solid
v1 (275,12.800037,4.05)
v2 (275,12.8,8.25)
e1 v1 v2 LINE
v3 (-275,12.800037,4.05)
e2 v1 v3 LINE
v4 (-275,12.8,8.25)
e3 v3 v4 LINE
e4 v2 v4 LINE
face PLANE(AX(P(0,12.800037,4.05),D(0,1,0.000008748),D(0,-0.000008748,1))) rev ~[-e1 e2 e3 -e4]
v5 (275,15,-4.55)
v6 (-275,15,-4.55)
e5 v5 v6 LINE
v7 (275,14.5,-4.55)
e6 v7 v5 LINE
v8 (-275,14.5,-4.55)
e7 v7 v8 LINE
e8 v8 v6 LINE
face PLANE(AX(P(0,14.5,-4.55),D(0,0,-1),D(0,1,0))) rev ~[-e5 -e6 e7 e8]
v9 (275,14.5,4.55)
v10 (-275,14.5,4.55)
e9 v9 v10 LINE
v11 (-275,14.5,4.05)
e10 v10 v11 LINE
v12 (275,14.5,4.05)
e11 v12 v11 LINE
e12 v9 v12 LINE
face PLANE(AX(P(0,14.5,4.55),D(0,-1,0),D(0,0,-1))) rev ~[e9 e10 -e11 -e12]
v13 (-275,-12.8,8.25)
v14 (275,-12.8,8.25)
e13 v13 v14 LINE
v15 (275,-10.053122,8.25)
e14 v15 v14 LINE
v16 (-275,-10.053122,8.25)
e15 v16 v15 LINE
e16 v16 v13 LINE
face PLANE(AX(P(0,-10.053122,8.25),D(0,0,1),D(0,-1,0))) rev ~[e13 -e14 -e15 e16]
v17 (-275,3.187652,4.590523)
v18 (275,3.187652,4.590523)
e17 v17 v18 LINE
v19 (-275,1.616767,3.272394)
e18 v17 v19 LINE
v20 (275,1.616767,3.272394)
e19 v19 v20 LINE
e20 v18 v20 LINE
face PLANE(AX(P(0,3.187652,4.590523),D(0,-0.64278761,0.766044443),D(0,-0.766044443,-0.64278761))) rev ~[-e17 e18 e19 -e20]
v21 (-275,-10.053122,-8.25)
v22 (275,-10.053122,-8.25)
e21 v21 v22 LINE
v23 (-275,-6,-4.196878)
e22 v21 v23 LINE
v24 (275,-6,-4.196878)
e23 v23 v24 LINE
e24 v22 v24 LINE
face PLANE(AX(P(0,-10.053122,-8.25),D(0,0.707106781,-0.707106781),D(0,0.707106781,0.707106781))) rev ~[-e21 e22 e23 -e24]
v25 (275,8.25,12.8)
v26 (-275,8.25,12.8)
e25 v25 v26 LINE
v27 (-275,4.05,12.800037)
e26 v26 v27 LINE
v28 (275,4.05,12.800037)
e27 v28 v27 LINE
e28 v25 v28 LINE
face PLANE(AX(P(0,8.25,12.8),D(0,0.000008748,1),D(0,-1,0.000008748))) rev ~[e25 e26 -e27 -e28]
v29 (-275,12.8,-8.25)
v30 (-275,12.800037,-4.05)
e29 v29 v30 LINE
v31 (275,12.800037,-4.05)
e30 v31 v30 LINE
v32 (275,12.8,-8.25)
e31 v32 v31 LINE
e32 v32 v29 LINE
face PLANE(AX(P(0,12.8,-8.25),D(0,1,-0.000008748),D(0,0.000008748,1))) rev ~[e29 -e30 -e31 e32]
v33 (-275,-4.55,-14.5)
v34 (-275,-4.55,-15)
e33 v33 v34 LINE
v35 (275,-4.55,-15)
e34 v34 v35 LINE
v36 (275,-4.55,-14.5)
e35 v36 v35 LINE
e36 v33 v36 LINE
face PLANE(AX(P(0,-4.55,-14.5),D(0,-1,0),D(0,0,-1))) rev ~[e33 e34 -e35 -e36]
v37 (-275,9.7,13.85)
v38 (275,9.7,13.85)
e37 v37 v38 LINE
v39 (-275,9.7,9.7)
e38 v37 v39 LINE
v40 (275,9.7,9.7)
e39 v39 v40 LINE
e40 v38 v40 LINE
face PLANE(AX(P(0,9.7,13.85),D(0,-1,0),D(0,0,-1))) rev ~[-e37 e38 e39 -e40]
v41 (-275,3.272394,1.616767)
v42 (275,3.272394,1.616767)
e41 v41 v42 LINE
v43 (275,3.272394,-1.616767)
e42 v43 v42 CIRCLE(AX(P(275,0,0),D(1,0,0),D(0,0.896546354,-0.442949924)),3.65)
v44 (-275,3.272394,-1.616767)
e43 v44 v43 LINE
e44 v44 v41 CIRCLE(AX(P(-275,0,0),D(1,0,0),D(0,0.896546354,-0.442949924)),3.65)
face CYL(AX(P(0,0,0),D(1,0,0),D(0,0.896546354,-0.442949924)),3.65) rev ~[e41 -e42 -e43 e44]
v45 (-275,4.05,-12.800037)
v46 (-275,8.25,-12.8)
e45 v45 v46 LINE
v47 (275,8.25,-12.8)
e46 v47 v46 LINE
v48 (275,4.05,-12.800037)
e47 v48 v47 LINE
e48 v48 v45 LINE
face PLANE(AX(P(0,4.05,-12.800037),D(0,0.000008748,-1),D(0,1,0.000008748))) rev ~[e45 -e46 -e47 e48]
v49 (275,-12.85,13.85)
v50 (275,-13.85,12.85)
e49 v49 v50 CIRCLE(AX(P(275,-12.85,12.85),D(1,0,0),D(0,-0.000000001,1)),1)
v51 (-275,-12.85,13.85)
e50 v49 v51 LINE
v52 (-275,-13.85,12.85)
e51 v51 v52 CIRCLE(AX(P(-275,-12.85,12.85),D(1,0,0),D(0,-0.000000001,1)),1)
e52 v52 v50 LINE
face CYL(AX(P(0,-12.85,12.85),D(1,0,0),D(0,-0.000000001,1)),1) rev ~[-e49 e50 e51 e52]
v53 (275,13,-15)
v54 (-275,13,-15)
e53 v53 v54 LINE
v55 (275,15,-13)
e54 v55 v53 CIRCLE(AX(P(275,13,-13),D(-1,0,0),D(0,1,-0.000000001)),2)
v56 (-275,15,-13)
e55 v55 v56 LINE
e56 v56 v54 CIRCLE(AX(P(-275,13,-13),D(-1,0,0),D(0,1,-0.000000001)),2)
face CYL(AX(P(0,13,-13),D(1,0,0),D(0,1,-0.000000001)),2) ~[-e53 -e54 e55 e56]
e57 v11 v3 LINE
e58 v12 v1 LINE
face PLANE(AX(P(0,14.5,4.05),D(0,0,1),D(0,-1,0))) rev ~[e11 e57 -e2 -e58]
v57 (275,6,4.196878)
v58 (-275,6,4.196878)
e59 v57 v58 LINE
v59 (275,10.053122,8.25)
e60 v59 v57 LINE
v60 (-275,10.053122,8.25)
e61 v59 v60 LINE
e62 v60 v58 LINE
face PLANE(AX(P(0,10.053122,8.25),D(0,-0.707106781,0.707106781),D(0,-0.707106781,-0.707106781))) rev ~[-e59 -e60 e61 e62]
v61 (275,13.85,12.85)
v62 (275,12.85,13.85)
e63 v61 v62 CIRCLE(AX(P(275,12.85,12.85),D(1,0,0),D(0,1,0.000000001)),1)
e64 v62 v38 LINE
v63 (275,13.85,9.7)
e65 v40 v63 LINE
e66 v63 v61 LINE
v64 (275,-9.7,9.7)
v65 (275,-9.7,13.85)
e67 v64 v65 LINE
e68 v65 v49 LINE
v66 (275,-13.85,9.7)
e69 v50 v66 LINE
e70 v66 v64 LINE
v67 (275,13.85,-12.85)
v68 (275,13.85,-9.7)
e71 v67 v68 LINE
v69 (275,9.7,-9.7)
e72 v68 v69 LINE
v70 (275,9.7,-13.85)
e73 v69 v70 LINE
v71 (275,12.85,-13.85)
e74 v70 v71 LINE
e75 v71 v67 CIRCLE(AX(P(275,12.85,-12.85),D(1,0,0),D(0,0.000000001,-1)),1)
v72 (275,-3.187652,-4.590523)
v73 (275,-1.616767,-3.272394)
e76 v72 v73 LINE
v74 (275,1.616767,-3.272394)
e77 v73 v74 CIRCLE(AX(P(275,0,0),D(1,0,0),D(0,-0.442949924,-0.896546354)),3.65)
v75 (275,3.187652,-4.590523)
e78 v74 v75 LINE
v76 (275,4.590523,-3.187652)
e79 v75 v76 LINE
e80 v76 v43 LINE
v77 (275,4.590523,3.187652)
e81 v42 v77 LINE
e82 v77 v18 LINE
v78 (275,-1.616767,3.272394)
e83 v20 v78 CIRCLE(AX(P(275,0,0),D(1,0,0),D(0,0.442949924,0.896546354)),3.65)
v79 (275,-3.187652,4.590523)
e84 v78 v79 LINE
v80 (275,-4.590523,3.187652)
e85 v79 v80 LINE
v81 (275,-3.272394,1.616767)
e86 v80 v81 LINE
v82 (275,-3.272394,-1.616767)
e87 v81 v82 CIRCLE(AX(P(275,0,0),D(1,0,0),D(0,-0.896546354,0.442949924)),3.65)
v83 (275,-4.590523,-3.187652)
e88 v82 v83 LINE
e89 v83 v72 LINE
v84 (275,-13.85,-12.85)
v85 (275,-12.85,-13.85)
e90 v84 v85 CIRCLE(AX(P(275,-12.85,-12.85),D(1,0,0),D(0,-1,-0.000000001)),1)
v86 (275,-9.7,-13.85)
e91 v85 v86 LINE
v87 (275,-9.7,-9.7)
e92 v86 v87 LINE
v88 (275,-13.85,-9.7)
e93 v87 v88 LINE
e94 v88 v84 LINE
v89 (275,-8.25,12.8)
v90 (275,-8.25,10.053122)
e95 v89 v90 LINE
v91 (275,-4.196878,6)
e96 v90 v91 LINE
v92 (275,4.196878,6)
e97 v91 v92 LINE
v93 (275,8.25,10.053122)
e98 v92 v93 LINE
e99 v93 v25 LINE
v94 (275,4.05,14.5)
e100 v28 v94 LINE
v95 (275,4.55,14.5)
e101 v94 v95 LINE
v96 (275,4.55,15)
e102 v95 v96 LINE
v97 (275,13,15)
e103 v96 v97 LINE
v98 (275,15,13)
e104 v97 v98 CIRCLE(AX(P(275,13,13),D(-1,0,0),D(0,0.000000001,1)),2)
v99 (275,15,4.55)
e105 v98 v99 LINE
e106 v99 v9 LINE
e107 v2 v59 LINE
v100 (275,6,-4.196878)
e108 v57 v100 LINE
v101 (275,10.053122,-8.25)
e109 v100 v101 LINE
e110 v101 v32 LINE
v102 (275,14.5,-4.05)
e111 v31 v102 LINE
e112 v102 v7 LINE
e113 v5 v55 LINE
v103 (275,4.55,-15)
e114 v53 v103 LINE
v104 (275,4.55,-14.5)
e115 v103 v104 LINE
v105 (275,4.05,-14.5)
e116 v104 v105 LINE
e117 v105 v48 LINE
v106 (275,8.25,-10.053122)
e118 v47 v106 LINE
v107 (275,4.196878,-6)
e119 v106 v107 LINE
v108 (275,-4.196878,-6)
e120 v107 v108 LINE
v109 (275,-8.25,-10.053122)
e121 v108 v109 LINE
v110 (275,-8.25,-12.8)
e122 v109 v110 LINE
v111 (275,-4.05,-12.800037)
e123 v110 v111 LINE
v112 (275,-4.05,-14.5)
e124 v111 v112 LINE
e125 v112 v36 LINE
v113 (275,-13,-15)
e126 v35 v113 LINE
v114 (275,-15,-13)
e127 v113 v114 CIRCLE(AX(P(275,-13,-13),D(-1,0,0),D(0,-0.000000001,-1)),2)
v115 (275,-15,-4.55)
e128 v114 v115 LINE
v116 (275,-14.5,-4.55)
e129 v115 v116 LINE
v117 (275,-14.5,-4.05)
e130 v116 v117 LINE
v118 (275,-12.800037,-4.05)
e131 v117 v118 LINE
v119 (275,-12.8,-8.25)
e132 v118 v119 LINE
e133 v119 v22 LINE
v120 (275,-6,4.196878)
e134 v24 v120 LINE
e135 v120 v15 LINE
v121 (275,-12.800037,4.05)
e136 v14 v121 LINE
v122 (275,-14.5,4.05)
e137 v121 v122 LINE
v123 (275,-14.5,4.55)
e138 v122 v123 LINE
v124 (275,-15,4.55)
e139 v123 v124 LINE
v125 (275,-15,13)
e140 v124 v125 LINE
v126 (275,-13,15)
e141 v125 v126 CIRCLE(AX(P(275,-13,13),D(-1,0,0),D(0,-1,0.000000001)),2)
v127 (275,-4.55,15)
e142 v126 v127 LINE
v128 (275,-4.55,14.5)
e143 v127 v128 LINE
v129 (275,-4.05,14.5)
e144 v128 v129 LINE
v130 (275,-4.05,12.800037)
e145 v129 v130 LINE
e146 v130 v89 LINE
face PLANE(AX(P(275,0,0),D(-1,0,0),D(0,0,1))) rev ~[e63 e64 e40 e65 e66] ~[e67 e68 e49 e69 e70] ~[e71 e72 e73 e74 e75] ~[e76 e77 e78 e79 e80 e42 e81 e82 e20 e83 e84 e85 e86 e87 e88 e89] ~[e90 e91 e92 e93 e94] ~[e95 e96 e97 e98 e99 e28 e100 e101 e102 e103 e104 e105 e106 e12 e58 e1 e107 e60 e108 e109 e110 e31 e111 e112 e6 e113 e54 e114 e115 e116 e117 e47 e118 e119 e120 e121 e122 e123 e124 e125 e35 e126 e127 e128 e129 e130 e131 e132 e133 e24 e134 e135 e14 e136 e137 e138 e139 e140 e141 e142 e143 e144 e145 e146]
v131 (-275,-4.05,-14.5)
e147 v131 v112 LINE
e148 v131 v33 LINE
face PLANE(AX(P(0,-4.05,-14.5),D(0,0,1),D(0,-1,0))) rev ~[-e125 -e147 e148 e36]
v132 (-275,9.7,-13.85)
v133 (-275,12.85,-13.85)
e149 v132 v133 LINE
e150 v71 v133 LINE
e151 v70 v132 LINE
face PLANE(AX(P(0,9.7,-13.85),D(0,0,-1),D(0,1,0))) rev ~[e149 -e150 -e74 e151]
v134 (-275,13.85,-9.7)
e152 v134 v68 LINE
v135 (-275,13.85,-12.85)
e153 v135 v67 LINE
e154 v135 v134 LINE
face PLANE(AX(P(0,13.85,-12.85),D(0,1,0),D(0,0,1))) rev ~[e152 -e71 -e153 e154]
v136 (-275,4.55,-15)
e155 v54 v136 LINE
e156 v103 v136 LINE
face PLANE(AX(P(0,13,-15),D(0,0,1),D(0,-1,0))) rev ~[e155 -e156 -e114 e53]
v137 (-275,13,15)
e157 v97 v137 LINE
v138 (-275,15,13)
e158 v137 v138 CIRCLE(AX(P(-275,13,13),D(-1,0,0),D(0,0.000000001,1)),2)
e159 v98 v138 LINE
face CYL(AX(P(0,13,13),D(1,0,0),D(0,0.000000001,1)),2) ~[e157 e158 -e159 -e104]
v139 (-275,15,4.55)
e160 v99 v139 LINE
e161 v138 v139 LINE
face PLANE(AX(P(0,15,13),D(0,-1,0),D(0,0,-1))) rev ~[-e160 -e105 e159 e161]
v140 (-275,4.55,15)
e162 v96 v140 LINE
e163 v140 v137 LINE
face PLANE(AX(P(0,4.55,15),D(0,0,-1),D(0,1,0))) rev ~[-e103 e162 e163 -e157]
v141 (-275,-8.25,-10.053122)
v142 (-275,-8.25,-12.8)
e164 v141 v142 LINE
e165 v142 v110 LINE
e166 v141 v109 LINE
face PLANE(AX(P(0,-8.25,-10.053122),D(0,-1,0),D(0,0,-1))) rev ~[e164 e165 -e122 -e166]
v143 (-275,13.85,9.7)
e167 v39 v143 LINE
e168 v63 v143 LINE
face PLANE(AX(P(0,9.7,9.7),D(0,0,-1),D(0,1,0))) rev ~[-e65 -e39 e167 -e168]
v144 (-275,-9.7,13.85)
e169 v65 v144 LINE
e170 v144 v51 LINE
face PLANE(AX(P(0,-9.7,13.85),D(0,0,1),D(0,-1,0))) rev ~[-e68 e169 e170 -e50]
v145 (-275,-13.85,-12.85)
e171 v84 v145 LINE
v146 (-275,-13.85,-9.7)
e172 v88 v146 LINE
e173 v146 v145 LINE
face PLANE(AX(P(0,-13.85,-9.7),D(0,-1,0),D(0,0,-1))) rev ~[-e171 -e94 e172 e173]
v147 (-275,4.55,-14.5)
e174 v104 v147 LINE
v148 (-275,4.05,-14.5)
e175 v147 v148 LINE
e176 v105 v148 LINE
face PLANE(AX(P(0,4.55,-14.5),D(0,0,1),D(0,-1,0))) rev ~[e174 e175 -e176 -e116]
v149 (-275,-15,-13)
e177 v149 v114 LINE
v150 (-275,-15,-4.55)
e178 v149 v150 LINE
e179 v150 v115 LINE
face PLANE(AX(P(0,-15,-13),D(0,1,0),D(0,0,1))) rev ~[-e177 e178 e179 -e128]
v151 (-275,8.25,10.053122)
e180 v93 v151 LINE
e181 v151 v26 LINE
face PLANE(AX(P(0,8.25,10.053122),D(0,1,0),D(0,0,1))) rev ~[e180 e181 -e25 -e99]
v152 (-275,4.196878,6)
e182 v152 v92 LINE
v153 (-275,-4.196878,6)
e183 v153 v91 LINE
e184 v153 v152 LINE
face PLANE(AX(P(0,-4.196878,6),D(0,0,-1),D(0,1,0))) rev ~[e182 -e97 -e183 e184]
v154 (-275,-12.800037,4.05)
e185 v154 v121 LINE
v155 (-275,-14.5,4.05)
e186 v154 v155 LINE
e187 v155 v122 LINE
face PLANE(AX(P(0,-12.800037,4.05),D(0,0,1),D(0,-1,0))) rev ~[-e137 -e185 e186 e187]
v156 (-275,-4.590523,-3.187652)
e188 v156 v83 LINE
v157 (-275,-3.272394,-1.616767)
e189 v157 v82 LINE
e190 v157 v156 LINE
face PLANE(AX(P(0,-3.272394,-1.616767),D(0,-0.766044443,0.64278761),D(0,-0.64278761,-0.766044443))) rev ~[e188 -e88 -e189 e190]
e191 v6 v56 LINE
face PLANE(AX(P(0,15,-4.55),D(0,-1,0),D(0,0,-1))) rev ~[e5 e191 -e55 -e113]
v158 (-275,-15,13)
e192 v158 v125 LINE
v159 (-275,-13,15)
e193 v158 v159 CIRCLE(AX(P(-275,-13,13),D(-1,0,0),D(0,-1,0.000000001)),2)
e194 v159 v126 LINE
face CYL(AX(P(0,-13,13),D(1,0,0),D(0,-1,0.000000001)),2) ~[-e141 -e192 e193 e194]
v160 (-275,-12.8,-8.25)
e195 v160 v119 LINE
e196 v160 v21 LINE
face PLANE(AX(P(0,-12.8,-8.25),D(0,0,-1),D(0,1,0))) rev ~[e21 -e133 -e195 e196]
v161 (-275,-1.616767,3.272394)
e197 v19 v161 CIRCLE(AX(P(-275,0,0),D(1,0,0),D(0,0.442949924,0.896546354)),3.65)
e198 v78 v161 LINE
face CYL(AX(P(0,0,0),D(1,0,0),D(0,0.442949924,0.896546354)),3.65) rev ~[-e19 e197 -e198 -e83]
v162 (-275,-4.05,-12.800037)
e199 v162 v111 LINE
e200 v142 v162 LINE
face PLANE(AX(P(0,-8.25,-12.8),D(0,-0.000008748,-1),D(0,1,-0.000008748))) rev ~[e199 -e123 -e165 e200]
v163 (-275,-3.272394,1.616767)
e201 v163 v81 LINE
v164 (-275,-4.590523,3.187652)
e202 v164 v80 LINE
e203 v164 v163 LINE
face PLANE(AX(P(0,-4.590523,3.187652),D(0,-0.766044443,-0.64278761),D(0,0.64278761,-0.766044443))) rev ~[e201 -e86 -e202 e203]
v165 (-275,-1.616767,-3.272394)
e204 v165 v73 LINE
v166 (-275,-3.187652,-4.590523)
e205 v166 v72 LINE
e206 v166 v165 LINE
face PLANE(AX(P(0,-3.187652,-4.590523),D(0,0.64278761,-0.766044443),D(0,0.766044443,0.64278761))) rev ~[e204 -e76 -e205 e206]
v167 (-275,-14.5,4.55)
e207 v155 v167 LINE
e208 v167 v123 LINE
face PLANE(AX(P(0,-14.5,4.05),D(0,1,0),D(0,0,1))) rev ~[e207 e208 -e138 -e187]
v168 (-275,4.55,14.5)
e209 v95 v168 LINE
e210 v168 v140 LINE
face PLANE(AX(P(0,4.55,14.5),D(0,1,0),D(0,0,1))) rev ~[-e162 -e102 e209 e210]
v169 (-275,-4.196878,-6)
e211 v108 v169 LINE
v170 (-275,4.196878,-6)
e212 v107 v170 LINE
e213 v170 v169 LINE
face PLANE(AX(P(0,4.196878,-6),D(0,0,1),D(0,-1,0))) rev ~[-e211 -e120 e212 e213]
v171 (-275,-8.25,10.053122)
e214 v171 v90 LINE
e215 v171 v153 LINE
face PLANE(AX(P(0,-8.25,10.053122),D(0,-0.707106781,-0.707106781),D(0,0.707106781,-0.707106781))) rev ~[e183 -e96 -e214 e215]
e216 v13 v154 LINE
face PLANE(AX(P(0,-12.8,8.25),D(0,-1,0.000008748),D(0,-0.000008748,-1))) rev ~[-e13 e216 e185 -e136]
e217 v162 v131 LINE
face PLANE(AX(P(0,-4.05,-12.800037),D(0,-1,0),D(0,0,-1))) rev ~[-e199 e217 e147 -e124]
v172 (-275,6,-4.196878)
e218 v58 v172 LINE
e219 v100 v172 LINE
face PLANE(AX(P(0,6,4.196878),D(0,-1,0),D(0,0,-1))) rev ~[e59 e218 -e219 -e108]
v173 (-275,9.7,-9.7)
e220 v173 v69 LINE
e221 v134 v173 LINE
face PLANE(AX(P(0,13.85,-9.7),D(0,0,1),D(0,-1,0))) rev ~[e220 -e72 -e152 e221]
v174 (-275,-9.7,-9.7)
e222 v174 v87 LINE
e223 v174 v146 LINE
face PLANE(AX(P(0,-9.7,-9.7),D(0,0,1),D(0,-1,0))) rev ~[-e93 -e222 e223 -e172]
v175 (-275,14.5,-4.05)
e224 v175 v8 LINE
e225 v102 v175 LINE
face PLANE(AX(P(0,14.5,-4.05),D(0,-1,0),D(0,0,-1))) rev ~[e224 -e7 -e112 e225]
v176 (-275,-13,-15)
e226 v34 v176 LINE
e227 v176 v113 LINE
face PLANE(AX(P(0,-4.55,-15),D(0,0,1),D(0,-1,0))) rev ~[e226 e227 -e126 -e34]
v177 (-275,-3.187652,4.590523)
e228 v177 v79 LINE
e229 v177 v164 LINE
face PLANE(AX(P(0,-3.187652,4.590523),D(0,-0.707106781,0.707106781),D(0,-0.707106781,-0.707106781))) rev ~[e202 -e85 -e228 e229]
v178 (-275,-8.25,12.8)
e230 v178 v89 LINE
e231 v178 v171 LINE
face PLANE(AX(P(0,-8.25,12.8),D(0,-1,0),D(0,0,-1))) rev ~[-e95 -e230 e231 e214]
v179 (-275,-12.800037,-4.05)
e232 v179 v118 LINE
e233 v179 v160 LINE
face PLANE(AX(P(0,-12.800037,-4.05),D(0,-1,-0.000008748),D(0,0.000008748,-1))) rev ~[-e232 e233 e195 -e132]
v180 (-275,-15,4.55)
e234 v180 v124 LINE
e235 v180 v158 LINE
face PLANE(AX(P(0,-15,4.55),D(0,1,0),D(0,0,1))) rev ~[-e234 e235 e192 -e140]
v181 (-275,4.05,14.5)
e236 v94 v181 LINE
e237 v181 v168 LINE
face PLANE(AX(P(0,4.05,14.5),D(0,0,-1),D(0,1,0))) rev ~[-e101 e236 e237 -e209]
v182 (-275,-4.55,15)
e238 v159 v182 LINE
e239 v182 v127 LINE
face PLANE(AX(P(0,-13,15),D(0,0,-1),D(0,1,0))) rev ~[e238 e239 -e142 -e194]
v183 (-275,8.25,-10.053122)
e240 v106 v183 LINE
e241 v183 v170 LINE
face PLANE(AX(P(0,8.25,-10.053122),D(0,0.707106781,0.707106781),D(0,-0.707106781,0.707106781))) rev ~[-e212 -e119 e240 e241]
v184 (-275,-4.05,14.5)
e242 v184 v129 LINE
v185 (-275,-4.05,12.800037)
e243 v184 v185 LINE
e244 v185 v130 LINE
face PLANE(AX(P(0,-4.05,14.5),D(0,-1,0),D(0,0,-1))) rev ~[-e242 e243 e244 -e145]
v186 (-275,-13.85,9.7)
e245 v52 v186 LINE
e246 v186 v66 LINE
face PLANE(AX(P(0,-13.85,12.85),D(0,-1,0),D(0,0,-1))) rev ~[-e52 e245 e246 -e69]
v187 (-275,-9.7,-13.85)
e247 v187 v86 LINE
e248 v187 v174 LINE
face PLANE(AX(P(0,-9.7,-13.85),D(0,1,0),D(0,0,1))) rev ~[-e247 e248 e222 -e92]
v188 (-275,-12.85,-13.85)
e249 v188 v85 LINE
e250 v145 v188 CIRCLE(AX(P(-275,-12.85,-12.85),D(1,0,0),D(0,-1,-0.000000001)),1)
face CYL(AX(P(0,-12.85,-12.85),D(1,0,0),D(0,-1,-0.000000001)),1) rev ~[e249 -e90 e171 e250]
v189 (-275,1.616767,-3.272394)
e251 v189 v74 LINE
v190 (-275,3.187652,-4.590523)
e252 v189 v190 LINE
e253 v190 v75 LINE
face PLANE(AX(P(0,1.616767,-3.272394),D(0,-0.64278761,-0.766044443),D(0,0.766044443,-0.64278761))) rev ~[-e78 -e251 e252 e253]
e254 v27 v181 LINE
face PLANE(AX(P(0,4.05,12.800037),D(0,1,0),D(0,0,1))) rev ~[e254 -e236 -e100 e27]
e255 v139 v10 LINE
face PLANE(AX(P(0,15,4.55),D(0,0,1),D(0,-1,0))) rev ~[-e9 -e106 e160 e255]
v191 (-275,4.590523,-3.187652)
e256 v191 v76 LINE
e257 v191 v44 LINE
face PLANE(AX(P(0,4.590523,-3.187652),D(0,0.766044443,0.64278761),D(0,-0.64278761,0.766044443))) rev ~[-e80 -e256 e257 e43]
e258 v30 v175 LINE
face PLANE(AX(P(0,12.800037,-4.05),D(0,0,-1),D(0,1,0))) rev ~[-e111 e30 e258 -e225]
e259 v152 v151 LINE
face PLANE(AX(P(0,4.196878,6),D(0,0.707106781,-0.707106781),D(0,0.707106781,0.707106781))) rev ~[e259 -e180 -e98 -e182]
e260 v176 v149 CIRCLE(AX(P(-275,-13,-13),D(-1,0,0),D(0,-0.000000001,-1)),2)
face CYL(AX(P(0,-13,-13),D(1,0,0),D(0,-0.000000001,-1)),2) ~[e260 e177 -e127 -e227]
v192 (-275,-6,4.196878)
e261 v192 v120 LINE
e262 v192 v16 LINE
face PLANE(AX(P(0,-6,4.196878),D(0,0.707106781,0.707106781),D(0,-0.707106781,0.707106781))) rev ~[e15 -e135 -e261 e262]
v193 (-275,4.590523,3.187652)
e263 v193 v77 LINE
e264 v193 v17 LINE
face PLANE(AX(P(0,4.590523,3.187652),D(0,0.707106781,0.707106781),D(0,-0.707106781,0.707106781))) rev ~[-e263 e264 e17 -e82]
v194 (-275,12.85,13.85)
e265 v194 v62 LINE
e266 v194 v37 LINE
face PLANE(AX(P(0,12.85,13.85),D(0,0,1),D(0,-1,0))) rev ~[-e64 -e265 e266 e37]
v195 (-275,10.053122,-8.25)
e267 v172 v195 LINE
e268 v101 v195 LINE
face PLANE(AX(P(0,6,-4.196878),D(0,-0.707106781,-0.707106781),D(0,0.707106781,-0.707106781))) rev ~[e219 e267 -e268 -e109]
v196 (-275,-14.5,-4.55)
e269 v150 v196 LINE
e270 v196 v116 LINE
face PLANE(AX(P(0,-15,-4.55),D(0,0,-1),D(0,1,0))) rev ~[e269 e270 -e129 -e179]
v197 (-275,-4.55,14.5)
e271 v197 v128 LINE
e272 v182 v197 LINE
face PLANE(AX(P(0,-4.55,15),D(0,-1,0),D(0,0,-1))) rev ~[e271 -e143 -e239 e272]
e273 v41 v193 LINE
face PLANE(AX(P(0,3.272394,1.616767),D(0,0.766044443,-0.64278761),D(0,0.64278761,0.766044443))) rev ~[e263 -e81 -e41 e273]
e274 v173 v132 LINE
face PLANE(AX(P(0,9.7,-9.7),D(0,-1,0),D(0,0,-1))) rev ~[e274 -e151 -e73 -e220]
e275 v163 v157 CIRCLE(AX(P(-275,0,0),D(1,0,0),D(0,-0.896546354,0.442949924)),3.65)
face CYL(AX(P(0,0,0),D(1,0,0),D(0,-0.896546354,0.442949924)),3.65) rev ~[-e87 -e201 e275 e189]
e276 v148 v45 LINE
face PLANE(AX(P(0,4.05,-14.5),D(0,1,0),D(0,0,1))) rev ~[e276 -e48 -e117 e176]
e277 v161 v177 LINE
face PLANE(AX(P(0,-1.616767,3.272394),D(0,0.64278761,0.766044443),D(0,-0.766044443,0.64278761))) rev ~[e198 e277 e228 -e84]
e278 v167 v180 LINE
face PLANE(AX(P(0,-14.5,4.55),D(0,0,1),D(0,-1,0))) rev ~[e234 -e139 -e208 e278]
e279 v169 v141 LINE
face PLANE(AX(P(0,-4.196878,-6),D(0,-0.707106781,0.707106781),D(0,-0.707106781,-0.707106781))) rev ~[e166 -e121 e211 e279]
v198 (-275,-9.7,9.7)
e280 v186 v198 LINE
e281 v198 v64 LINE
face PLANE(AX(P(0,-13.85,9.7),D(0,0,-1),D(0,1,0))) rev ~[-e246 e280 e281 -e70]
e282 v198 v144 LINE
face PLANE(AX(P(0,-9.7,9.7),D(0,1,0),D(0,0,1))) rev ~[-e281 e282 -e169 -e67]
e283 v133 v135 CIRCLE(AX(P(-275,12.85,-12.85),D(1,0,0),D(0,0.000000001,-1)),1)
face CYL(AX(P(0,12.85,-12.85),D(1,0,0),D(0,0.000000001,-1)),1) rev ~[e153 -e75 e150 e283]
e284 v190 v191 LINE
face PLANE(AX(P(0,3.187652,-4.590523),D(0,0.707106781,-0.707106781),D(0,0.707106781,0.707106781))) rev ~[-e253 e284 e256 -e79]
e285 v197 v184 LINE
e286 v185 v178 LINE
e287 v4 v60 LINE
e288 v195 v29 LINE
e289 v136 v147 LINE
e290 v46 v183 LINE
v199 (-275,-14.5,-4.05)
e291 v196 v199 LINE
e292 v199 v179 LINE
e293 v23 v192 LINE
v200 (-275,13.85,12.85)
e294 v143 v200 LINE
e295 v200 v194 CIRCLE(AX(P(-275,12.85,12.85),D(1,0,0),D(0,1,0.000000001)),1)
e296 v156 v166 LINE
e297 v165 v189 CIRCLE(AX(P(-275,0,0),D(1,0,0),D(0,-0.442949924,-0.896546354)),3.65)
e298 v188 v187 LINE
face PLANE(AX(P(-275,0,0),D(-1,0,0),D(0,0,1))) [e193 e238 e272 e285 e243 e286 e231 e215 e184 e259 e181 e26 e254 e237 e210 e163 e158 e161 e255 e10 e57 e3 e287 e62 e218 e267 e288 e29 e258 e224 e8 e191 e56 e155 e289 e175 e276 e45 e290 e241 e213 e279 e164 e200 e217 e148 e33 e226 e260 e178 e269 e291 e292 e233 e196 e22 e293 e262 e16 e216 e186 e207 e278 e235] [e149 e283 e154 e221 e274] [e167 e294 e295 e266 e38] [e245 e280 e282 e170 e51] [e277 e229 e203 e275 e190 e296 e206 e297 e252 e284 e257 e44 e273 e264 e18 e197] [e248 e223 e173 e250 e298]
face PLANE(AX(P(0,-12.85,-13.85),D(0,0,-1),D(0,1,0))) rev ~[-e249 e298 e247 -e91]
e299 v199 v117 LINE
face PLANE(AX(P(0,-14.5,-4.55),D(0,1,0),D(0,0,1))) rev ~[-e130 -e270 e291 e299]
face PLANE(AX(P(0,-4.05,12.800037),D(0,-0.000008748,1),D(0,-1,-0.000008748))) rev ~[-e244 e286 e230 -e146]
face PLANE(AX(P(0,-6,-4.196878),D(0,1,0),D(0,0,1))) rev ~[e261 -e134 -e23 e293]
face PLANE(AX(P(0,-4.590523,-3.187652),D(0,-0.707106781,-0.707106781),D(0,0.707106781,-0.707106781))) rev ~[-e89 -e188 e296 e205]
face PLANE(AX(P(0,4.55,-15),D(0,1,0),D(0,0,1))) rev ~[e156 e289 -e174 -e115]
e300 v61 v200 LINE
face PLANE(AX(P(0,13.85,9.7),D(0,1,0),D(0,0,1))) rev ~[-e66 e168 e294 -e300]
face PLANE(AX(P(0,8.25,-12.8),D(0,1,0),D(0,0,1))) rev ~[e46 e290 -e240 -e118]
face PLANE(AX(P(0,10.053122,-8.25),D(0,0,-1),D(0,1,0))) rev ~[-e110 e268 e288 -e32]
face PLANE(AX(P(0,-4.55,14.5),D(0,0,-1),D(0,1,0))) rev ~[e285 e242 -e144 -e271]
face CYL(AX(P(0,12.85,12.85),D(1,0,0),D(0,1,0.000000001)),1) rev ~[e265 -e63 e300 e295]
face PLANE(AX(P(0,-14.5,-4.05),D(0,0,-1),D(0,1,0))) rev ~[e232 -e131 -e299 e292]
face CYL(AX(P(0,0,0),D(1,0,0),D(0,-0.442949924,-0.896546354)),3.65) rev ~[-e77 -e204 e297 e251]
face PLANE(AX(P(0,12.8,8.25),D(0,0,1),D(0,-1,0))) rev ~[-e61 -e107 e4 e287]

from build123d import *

# Parameters (mm, degrees)
BR_EXTRUDE_DEPTH      = 275
BR_EXTRUDE_DEPTH_BACK = 275


with BuildPart() as part:
    # Sketch2 → BR_Extrude (new body, two sides)
    with BuildSketch(Plane(origin=(0, 0, 0), x_dir=(0, 0, -1), z_dir=(1, 0, 0))) as br_extrude_sk:
        with BuildLine():
            Line((-6, 4.196877708), (-10.053122292, 8.25))
            Line((-10.053122292, 8.25), (-12.8, 8.25))
            Line((-12.8, 8.25), (-12.800036742, 4.05))
            Line((-12.800036742, 4.05), (-14.5, 4.05))
            Line((-14.5, 4.05), (-14.5, 4.55))
            Line((-14.5, 4.55), (-15, 4.55))
            Line((-15, 4.55), (-15, 13))
            ThreePointArc((-15, 13), (-14.414213562, 14.414213562), (-13, 15))
            Line((-13, 15), (-4.55, 15))
            Line((-4.55, 15), (-4.55, 14.5))
            Line((-4.55, 14.5), (-4.05, 14.5))
            Line((-4.05, 14.5), (-4.05, 12.800036742))
            Line((-4.05, 12.800036742), (-8.25, 12.8))
            Line((-8.25, 12.8), (-8.25, 10.053122292))
            Line((-8.25, 10.053122292), (-4.196877708, 6))
            Line((-4.196877708, 6), (4.196877708, 6))
            Line((4.196877708, 6), (8.25, 10.053122292))
            Line((8.25, 10.053122292), (8.25, 12.8))
            Line((8.25, 12.8), (4.05, 12.800036742))
            Line((4.05, 12.800036742), (4.05, 14.5))
            Line((4.05, 14.5), (4.55, 14.5))
            Line((4.55, 14.5), (4.55, 15))
            Line((4.55, 15), (13, 15))
            ThreePointArc((13, 15), (14.414213562, 14.414213562), (15, 13))
            Line((15, 13), (15, 4.55))
            Line((15, 4.55), (14.5, 4.55))
            Line((14.5, 4.55), (14.5, 4.05))
            Line((14.5, 4.05), (12.800036742, 4.05))
            Line((12.800036742, 4.05), (12.8, 8.25))
            Line((12.8, 8.25), (10.053122292, 8.25))
            Line((10.053122292, 8.25), (6, 4.196877708))
            Line((6, 4.196877708), (6, -4.196877708))
            Line((6, -4.196877708), (10.053122292, -8.25))
            Line((10.053122292, -8.25), (12.8, -8.25))
            Line((12.8, -8.25), (12.800036742, -4.05))
            Line((12.800036742, -4.05), (14.5, -4.05))
            Line((14.5, -4.05), (14.5, -4.55))
            Line((14.5, -4.55), (15, -4.55))
            Line((15, -4.55), (15, -13))
            ThreePointArc((15, -13), (14.414213562, -14.414213562), (13, -15))
            Line((13, -15), (4.55, -15))
            Line((4.55, -15), (4.55, -14.5))
            Line((4.55, -14.5), (4.05, -14.5))
            Line((4.05, -14.5), (4.05, -12.800036742))
            Line((4.05, -12.800036742), (8.25, -12.8))
            Line((8.25, -12.8), (8.25, -10.053122292))
            Line((8.25, -10.053122292), (4.196877708, -6))
            Line((4.196877708, -6), (-4.196877708, -6))
            Line((-4.196877708, -6), (-8.25, -10.053122292))
            Line((-8.25, -10.053122292), (-8.25, -12.8))
            Line((-8.25, -12.8), (-4.05, -12.800036742))
            Line((-4.05, -12.800036742), (-4.05, -14.5))
            Line((-4.05, -14.5), (-4.55, -14.5))
            Line((-4.55, -14.5), (-4.55, -15))
            Line((-4.55, -15), (-13, -15))
            ThreePointArc((-13, -15), (-14.414213562, -14.414213562), (-15, -13))
            Line((-15, -13), (-15, -4.55))
            Line((-15, -4.55), (-14.5, -4.55))
            Line((-14.5, -4.55), (-14.5, -4.05))
            Line((-14.5, -4.05), (-12.800036742, -4.05))
            Line((-12.800036742, -4.05), (-12.8, -8.25))
            Line((-12.8, -8.25), (-10.053122292, -8.25))
            Line((-10.053122292, -8.25), (-6, -4.196877708))
            Line((-6, -4.196877708), (-6, 4.196877708))
        make_face()
        with BuildLine():
            Line((-13.85, -9.7), (-13.85, -12.85))
            ThreePointArc((-13.85, -12.85), (-13.557106781, -13.557106781), (-12.85, -13.85))
            Line((-12.85, -13.85), (-9.7, -13.85))
            Line((-9.7, -13.85), (-9.7, -9.7))
            Line((-9.7, -9.7), (-13.85, -9.7))
        make_face(mode=Mode.SUBTRACT)
        with BuildLine():
            Line((9.7, -13.85), (12.85, -13.85))
            ThreePointArc((12.85, -13.85), (13.557106781, -13.557106781), (13.85, -12.85))
            Line((13.85, -12.85), (13.85, -9.7))
            Line((13.85, -9.7), (9.7, -9.7))
            Line((9.7, -9.7), (9.7, -13.85))
        make_face(mode=Mode.SUBTRACT)
        with BuildLine():
            Line((13.85, 9.7), (13.85, 12.85))
            ThreePointArc((13.85, 12.85), (13.557106781, 13.557106781), (12.85, 13.85))
            Line((12.85, 13.85), (9.7, 13.85))
            Line((9.7, 13.85), (9.7, 9.7))
            Line((9.7, 9.7), (13.85, 9.7))
        make_face(mode=Mode.SUBTRACT)
        with BuildLine():
            Line((-9.7, 13.85), (-12.85, 13.85))
            ThreePointArc((-12.85, 13.85), (-13.557106781, 13.557106781), (-13.85, 12.85))
            Line((-13.85, 12.85), (-13.85, 9.7))
            Line((-13.85, 9.7), (-9.7, 9.7))
            Line((-9.7, 9.7), (-9.7, 13.85))
        make_face(mode=Mode.SUBTRACT)
        with BuildLine():
            Line((-3.272394192, -1.616767223), (-4.59052283, -3.187651763))
            Line((-4.59052283, -3.187651763), (-3.187651763, -4.59052283))
            Line((-3.187651763, -4.59052283), (-1.616767223, -3.272394192))
            ThreePointArc((-1.616767223, -3.272394192), (0, -3.65), (1.616767223, -3.272394192))
            Line((1.616767223, -3.272394192), (3.187651763, -4.59052283))
            Line((3.187651763, -4.59052283), (4.59052283, -3.187651763))
            Line((4.59052283, -3.187651763), (3.272394192, -1.616767223))
            ThreePointArc((3.272394192, -1.616767223), (3.65, 0), (3.272394192, 1.616767223))
            Line((3.272394192, 1.616767223), (4.59052283, 3.187651763))
            Line((4.59052283, 3.187651763), (3.187651763, 4.59052283))
            Line((3.187651763, 4.59052283), (1.616767223, 3.272394192))
            ThreePointArc((1.616767223, 3.272394192), (0, 3.65), (-1.616767223, 3.272394192))
            Line((-1.616767223, 3.272394192), (-3.187651763, 4.59052283))
            Line((-3.187651763, 4.59052283), (-4.59052283, 3.187651763))
            Line((-4.59052283, 3.187651763), (-3.272394192, 1.616767223))
            ThreePointArc((-3.272394192, 1.616767223), (-3.65, 0), (-3.272394192, -1.616767223))
        make_face(mode=Mode.SUBTRACT)
    extrude(amount=BR_EXTRUDE_DEPTH)
    extrude(br_extrude_sk.sketch, amount=-BR_EXTRUDE_DEPTH_BACK)


solid = part.part
